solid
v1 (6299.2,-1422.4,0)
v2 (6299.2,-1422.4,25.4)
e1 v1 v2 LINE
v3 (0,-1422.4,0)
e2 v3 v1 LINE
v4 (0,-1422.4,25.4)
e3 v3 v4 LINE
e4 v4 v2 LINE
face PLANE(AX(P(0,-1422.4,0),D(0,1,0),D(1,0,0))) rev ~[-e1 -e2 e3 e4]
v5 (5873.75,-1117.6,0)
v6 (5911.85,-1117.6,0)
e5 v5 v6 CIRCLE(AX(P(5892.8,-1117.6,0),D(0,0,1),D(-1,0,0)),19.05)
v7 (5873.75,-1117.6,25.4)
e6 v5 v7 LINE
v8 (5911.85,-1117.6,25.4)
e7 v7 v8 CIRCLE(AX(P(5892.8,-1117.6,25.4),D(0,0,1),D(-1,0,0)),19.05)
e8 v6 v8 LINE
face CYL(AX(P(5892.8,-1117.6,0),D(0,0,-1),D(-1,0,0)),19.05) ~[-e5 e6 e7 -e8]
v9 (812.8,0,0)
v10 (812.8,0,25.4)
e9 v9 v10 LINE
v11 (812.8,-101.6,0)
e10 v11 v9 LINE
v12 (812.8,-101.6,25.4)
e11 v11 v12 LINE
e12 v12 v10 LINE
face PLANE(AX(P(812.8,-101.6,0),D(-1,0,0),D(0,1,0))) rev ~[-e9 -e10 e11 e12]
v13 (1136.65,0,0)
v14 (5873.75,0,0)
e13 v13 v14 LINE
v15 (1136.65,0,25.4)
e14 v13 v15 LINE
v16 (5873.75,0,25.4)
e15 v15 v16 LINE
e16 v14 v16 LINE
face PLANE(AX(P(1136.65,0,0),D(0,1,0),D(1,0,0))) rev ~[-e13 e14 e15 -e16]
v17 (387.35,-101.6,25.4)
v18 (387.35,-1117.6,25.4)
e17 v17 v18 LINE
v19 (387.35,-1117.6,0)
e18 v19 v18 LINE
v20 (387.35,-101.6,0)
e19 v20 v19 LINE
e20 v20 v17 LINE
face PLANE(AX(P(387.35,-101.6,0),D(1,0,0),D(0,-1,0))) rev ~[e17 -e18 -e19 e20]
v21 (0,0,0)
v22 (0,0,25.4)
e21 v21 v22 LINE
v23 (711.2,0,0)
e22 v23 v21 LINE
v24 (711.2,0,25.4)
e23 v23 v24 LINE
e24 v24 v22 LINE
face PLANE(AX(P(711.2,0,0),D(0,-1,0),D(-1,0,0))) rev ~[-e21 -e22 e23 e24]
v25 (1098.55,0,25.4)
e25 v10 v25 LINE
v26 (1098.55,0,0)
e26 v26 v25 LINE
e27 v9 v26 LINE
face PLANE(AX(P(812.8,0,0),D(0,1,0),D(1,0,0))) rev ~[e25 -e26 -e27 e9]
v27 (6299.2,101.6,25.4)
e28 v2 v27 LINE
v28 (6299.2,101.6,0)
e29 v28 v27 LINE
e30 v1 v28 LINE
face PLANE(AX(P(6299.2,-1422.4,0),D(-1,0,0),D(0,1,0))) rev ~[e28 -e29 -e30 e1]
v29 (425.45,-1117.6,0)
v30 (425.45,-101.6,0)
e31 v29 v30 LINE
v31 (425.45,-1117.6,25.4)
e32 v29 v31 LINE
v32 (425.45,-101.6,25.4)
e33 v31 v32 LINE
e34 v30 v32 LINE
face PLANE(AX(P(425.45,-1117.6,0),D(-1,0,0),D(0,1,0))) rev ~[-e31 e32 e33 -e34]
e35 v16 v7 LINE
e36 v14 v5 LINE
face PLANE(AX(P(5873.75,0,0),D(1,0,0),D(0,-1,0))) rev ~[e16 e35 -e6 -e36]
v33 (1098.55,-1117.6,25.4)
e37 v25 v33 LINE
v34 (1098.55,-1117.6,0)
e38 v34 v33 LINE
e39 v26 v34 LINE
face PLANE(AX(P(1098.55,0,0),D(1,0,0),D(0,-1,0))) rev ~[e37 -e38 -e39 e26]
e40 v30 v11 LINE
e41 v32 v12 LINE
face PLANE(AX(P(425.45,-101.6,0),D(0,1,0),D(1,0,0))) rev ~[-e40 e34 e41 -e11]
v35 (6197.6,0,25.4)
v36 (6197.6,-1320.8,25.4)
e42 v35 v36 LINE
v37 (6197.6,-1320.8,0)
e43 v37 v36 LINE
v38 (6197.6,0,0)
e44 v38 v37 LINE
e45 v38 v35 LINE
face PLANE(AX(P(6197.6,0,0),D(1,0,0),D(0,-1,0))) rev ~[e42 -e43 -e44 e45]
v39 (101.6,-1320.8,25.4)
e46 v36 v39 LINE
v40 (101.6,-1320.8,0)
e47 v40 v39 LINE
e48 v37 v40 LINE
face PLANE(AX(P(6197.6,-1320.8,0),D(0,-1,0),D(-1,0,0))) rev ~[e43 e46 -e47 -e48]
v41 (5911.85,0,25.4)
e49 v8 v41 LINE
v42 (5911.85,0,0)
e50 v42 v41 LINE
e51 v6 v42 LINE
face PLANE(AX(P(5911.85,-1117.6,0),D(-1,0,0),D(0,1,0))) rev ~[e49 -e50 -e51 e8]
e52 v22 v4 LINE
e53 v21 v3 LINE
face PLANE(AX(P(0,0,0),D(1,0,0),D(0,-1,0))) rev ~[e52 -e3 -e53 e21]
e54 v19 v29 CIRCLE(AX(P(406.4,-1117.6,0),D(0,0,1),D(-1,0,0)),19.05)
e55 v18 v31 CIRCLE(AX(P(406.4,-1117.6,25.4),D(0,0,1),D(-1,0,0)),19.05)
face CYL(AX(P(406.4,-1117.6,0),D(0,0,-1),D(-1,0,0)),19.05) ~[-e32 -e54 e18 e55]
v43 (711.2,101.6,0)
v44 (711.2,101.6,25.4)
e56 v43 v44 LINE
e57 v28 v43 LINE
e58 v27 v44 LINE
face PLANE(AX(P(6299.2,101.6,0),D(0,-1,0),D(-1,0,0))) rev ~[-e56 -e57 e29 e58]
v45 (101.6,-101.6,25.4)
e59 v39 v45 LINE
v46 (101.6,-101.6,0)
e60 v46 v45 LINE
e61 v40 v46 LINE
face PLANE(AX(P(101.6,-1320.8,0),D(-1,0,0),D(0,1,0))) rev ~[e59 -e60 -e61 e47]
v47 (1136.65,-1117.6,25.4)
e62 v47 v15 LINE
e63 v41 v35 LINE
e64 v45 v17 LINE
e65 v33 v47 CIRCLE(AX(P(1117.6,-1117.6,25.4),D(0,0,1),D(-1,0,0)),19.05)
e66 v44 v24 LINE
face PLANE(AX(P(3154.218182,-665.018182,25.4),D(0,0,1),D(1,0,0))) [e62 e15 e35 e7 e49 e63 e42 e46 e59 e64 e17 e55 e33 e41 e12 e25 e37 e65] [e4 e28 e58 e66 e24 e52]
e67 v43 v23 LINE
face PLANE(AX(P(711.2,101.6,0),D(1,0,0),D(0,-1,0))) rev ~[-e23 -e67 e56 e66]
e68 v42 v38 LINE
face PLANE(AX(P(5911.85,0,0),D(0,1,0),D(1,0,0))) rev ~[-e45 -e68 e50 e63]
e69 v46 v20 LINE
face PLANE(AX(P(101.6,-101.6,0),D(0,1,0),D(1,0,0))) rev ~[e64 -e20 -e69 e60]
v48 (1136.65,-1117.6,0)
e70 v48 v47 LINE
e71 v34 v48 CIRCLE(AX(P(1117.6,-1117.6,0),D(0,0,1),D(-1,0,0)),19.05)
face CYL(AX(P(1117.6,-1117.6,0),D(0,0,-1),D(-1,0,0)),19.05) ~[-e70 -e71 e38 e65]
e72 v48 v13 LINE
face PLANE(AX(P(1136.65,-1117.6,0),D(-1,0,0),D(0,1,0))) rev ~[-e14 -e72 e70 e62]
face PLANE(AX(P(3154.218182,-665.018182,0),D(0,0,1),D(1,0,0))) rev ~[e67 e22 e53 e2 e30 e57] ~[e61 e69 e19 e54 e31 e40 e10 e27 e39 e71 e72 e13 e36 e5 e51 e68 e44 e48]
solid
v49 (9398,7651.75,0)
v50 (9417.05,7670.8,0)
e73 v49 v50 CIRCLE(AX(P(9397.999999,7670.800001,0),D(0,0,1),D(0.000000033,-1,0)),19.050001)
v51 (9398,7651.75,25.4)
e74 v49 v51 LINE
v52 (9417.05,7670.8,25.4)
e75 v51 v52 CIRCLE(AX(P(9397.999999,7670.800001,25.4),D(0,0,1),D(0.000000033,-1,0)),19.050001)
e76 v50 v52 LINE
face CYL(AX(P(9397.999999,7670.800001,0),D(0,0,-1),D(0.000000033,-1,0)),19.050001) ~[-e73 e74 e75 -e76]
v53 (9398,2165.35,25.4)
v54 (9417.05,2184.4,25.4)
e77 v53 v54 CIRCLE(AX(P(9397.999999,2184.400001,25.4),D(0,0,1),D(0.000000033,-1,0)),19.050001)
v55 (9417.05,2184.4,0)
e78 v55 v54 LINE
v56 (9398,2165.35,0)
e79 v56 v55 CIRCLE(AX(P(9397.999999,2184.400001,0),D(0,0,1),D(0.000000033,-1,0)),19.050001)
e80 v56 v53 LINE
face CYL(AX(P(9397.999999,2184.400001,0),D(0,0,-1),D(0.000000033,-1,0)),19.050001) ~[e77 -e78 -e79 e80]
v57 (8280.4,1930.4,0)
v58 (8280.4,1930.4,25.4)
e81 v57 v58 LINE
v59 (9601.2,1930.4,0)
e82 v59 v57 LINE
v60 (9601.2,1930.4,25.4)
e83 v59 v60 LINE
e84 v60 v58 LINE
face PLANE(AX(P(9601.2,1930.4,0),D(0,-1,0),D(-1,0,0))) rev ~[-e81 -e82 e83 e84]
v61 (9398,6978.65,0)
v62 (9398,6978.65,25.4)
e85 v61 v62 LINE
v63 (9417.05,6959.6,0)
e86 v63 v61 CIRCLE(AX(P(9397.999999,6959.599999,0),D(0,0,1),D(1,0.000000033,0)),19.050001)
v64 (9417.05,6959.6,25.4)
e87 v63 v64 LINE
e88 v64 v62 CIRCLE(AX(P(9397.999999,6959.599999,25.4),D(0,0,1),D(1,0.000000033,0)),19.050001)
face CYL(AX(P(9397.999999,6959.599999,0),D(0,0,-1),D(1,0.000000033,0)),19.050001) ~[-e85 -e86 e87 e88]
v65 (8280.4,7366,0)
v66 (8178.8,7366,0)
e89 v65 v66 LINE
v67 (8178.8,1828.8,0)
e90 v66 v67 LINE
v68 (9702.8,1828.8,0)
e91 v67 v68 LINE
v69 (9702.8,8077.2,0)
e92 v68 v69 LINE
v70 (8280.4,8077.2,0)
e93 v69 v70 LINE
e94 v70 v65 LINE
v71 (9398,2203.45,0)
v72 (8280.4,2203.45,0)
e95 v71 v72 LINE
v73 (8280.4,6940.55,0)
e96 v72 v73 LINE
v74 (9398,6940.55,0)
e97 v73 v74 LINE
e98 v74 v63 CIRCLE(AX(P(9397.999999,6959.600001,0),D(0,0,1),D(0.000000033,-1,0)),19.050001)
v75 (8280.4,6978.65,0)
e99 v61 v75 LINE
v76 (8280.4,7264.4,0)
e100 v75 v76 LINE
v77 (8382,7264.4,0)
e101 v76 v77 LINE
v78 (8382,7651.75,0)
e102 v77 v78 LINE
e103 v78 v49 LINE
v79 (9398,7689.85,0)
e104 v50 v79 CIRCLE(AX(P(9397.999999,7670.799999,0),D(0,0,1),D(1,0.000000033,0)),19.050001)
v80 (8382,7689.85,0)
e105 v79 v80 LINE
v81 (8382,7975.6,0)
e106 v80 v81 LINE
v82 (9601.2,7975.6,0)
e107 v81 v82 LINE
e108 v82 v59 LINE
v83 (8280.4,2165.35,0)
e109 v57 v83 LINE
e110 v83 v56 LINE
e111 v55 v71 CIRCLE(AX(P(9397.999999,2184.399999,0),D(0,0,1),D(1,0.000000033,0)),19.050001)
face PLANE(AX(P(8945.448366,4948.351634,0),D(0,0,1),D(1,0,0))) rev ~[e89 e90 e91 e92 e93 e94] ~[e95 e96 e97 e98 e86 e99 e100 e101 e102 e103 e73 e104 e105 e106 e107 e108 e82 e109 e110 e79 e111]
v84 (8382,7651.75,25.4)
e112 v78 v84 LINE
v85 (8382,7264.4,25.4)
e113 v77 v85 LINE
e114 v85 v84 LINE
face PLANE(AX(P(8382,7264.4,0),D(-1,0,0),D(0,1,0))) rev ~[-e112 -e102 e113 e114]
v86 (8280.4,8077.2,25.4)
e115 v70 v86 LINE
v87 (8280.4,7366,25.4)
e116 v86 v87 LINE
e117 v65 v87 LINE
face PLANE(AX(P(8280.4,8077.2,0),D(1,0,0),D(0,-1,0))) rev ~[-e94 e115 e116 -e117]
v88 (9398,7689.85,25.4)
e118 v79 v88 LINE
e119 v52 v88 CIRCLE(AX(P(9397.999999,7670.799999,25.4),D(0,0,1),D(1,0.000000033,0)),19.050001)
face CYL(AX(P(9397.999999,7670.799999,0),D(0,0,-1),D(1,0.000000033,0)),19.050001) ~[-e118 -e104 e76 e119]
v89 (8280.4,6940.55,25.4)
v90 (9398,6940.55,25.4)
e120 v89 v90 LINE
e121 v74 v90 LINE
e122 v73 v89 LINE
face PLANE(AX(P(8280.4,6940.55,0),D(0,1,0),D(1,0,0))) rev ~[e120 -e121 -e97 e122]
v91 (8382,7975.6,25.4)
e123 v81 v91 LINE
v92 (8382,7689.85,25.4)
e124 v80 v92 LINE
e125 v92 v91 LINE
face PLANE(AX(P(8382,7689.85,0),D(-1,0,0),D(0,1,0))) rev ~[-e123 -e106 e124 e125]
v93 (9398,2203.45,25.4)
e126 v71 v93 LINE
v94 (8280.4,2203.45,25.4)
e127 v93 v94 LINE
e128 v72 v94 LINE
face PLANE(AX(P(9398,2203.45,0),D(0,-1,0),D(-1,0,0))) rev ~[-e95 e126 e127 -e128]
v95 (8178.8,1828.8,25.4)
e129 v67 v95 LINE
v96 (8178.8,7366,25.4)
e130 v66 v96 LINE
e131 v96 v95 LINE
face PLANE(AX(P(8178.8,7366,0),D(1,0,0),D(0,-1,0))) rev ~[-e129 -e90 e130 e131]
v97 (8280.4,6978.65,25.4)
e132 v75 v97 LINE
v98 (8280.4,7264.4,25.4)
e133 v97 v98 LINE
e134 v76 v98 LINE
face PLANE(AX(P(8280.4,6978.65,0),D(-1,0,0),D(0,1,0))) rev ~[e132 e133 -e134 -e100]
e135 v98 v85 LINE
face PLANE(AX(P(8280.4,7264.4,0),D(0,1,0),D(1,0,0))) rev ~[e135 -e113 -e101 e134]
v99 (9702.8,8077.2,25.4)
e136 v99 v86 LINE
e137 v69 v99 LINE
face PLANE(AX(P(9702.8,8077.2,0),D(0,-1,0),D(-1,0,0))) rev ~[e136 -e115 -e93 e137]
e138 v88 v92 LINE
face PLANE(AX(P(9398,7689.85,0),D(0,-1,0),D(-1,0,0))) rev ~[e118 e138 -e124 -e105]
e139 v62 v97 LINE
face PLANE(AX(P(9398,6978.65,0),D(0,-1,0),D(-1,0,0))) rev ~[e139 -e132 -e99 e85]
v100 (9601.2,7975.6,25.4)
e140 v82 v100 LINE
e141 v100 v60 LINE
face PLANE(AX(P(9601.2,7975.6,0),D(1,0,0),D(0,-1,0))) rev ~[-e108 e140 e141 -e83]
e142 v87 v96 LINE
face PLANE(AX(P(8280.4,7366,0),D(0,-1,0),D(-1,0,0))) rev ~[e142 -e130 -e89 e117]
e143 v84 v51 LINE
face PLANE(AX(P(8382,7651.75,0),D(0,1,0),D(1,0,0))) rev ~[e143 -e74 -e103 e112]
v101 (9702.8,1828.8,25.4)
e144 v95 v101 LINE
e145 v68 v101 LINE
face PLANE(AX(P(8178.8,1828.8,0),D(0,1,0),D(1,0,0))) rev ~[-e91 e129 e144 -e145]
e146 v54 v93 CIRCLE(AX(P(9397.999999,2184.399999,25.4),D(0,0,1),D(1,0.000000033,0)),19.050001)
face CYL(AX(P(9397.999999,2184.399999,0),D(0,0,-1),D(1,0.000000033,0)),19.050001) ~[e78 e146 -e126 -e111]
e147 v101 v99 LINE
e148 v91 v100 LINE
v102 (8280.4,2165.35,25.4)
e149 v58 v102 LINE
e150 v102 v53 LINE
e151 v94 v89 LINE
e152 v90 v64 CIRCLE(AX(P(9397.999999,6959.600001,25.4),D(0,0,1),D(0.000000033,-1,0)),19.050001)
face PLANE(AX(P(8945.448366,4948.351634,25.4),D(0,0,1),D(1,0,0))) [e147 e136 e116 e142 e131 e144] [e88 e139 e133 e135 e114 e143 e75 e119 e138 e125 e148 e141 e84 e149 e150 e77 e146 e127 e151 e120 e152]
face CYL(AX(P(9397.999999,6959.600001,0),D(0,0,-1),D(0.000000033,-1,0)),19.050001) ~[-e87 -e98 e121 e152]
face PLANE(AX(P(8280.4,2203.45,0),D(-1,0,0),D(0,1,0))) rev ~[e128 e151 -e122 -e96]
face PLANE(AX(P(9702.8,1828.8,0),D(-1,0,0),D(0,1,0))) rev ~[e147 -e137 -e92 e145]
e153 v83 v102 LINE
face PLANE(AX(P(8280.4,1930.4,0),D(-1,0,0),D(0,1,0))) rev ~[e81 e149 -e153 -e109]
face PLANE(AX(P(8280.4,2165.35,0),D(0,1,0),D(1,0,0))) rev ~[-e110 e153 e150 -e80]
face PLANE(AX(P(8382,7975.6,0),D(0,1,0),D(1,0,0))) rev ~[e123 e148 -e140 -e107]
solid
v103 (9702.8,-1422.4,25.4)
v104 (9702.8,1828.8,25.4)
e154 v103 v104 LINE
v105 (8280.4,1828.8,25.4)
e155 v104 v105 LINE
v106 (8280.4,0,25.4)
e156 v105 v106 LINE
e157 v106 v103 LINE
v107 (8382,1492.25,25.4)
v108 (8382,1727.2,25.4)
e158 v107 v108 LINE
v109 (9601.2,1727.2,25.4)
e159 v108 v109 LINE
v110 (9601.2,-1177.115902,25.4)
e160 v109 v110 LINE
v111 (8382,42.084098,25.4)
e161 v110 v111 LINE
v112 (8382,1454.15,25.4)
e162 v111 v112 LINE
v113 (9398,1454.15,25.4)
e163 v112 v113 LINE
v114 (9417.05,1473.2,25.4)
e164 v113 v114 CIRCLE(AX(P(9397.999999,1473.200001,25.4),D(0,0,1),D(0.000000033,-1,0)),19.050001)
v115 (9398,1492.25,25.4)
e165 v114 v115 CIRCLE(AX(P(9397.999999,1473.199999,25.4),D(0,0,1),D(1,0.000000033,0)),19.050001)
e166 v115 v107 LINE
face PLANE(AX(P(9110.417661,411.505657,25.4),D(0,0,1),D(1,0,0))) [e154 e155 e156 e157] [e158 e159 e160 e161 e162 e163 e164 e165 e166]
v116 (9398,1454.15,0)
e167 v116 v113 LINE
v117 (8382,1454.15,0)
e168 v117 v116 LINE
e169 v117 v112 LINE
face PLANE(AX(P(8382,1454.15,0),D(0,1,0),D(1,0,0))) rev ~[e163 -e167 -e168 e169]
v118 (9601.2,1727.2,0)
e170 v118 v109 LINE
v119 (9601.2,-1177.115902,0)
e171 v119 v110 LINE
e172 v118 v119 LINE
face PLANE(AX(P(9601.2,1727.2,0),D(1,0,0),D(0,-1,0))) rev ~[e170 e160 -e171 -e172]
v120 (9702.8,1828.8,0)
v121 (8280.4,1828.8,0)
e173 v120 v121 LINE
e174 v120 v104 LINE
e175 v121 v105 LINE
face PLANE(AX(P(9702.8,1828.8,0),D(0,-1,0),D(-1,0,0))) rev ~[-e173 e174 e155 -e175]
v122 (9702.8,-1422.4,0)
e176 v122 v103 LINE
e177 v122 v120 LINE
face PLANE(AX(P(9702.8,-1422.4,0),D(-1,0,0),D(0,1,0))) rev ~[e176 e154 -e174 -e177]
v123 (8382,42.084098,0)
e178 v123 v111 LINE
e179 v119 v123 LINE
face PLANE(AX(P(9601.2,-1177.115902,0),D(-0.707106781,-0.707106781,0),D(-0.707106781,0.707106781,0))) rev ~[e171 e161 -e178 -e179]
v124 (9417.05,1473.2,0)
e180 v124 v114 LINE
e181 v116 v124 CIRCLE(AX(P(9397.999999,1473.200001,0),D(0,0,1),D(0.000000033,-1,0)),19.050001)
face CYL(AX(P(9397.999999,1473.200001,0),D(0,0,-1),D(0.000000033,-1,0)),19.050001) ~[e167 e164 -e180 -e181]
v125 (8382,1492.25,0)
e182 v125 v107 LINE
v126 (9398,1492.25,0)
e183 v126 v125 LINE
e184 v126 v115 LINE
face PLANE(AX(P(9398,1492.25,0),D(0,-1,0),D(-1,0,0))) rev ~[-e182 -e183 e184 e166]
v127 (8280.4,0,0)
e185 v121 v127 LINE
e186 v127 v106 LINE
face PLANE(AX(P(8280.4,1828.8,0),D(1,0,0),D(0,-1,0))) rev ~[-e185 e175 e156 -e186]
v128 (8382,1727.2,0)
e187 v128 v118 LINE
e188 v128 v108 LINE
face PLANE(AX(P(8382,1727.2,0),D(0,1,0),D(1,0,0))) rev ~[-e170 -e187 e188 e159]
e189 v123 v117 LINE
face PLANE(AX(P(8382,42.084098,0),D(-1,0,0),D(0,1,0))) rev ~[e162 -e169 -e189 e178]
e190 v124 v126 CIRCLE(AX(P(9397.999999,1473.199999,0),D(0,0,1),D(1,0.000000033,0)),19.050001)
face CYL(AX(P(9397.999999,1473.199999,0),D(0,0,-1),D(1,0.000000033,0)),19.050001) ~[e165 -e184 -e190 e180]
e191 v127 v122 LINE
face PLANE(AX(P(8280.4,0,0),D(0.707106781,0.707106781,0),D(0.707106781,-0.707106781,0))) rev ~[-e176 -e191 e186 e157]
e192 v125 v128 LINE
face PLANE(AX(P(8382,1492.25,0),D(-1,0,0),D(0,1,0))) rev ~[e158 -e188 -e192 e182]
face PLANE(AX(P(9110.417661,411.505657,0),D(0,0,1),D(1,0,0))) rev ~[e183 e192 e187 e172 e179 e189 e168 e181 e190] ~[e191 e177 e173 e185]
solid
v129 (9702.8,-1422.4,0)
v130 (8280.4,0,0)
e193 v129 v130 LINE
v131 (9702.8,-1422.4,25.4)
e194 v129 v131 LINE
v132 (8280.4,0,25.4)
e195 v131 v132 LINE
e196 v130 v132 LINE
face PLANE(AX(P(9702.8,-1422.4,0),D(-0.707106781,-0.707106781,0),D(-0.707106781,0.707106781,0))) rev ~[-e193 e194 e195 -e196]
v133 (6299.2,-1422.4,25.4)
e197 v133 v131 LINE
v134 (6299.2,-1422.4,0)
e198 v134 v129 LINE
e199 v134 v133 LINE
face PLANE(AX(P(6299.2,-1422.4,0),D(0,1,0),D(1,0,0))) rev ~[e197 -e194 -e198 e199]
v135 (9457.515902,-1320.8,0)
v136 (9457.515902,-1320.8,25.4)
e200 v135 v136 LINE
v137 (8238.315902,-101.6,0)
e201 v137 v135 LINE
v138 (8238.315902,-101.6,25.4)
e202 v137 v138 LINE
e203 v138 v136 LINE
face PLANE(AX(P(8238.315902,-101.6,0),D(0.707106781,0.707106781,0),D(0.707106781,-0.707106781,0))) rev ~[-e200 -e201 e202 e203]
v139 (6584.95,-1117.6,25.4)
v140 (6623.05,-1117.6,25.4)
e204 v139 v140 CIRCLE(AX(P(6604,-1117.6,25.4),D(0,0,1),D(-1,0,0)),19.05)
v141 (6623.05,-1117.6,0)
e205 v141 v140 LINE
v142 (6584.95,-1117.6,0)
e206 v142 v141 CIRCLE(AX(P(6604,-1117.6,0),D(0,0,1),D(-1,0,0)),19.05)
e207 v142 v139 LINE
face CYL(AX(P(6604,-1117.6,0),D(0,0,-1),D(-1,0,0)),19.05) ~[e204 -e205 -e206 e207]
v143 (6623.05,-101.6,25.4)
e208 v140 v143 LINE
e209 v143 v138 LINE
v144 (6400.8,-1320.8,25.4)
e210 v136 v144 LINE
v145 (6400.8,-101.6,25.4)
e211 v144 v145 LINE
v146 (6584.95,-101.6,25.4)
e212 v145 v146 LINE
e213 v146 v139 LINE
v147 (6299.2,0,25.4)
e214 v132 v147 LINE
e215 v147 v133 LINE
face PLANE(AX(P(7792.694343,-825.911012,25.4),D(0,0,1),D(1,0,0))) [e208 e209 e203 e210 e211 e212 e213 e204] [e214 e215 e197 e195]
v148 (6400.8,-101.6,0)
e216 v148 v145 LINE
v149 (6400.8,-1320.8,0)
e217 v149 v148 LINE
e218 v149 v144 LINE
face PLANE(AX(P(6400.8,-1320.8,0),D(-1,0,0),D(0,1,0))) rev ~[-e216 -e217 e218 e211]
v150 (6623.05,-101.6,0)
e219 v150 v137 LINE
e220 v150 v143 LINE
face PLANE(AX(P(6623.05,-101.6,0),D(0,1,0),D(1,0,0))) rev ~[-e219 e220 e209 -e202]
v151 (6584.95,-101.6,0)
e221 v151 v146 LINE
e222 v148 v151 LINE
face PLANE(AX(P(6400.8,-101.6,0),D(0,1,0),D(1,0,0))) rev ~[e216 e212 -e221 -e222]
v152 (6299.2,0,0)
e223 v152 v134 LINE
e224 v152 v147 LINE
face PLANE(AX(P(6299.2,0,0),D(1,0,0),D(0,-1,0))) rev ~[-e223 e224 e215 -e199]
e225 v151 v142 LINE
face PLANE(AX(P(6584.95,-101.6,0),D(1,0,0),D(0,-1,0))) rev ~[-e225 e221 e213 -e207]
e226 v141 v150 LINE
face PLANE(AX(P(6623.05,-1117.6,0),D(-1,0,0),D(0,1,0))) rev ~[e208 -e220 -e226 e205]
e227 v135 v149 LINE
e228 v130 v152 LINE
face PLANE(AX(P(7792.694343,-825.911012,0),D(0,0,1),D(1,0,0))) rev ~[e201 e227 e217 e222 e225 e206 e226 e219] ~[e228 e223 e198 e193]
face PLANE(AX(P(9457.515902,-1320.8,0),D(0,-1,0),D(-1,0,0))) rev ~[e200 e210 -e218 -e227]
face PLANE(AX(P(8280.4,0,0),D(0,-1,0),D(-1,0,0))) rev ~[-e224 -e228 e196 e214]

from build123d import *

# Parameters (mm, degrees)
F1_DEPTH = 25.4
F2_DEPTH = 25.4
F3_DEPTH = 25.4
F4_DEPTH = 25.4


with BuildPart() as f1:
    # F0 (on Top) → F1 (new body)
    with BuildSketch(Plane.XY):
        Polygon((0, 0), (0, -1422.4), (6299.2, -1422.4), (6299.2, -1320.8), (6299.2, -101.6), (6299.2, 0), (6299.2, 101.6), (711.2, 101.6), (711.2, 0), align=None)
        Polygon((6197.6, -1320.8), (101.6, -1320.8), (101.6, -101.6), (387.35, -101.6), (425.45, -101.6), (812.8, -101.6), (812.8, 0), (1098.55, 0), (1136.65, 0), (5873.75, 0), (5911.85, 0), (6197.6, 0), (6197.6, -101.6), align=None, mode=Mode.SUBTRACT)
        with BuildLine():
            Line((425.45, -101.6), (387.35, -101.6))
            Line((387.35, -101.6), (387.35, -1117.6))
            ThreePointArc((387.35, -1117.6), (406.4, -1098.55), (425.45, -1117.6))
            Line((425.45, -1117.6), (425.45, -101.6))
        make_face()
        with BuildLine():
            ThreePointArc((425.45, -1117.6), (406.4, -1098.55), (387.35, -1117.6))
            Line((387.35, -1117.6), (425.45, -1117.6))
        make_face()
        with BuildLine():
            Line((425.45, -1117.6), (387.35, -1117.6))
            ThreePointArc((387.35, -1117.6), (406.4, -1136.65), (425.45, -1117.6))
        make_face()
        with BuildLine():
            Line((1136.65, -1117.6), (1136.65, 0))
            Line((1136.65, 0), (1098.55, 0))
            Line((1098.55, 0), (1098.55, -1117.6))
            ThreePointArc((1098.55, -1117.6), (1117.6, -1098.55), (1136.65, -1117.6))
        make_face()
        with BuildLine():
            Line((1098.55, -1117.6), (1136.65, -1117.6))
            ThreePointArc((1136.65, -1117.6), (1117.6, -1098.55), (1098.55, -1117.6))
        make_face()
        with BuildLine():
            ThreePointArc((1098.55, -1117.6), (1117.6, -1136.65), (1136.65, -1117.6))
            Line((1136.65, -1117.6), (1098.55, -1117.6))
        make_face()
        with BuildLine():
            Line((5911.85, -1117.6), (5911.85, 0))
            Line((5911.85, 0), (5873.75, 0))
            Line((5873.75, 0), (5873.75, -1117.6))
            ThreePointArc((5873.75, -1117.6), (5892.8, -1098.55), (5911.85, -1117.6))
        make_face()
        with BuildLine():
            Line((5873.75, -1117.6), (5911.85, -1117.6))
            ThreePointArc((5911.85, -1117.6), (5892.8, -1098.55), (5873.75, -1117.6))
        make_face()
        with BuildLine():
            ThreePointArc((5873.75, -1117.6), (5892.8, -1136.65), (5911.85, -1117.6))
            Line((5911.85, -1117.6), (5873.75, -1117.6))
        make_face()
    extrude(amount=F1_DEPTH)


with BuildPart() as f2:
    # F0 (on Top) → F2 (new body)
    with BuildSketch(Plane.XY):
        Polygon((6299.2, -1320.8), (6299.2, -1422.4), (9702.8, -1422.4), (8280.4, 0), (6400.8, 0), (6299.2, 0), (6299.2, -101.6), align=None)
        Polygon((6400.8, -101.6), (6584.95, -101.6), (6623.05, -101.6), (8238.315902, -101.6), (9457.515902, -1320.8), (6400.8, -1320.8), align=None, mode=Mode.SUBTRACT)
        with BuildLine():
            Line((6623.05, -101.6), (6584.95, -101.6))
            Line((6584.95, -101.6), (6584.95, -1117.6))
            ThreePointArc((6584.95, -1117.6), (6604, -1098.55), (6623.05, -1117.6))
            Line((6623.05, -1117.6), (6623.05, -101.6))
        make_face()
        with BuildLine():
            ThreePointArc((6623.05, -1117.6), (6604, -1098.55), (6584.95, -1117.6))
            Line((6584.95, -1117.6), (6623.05, -1117.6))
        make_face()
        with BuildLine():
            Line((6623.05, -1117.6), (6584.95, -1117.6))
            ThreePointArc((6584.95, -1117.6), (6604, -1136.65), (6623.05, -1117.6))
        make_face()
    extrude(amount=F2_DEPTH)


with BuildPart() as f3:
    # F0 (on Top) → F3 (new body)
    with BuildSketch(Plane.XY):
        Polygon((8280.4, 0), (9702.8, -1422.4), (9702.8, 1828.8), (8382, 1828.8), (8280.4, 1828.8), align=None)
        Polygon((9601.2, -1177.115902), (8382, 42.084098), (8382, 1454.15), (8382, 1492.25), (8382, 1727.2), (9601.2, 1727.2), align=None, mode=Mode.SUBTRACT)
        with BuildLine():
            Line((8382, 1492.25), (8382, 1454.15))
            Line((8382, 1454.15), (9398, 1454.15))
            ThreePointArc((9398, 1454.15), (9378.95, 1473.2), (9398, 1492.25))
            Line((9398, 1492.25), (8382, 1492.25))
        make_face()
        with BuildLine():
            ThreePointArc((9398, 1492.25), (9378.95, 1473.2), (9398, 1454.15))
            Line((9398, 1454.15), (9398, 1492.25))
        make_face()
        with BuildLine():
            Line((9398, 1492.25), (9398, 1454.15))
            ThreePointArc((9398, 1454.15), (9411.470384, 1459.729616), (9417.05, 1473.2))
            ThreePointArc((9417.05, 1473.2), (9411.470384, 1486.670384), (9398, 1492.25))
        make_face()
    extrude(amount=F3_DEPTH)


with BuildPart() as f4:
    # F0 (on Top) → F4 (new body)
    with BuildSketch(Plane.XY):
        Polygon((8382, 1828.8), (9702.8, 1828.8), (9702.8, 8077.2), (8280.4, 8077.2), (8280.4, 7366), (8178.8, 7366), (8178.8, 1828.8), (8280.4, 1828.8), align=None)
        Polygon((9601.2, 1930.4), (8382, 1930.4), (8280.4, 1930.4), (8280.4, 2165.35), (8280.4, 2203.45), (8280.4, 6940.55), (8280.4, 6978.65), (8280.4, 7264.4), (8382, 7264.4), (8382, 7651.75), (8382, 7689.85), (8382, 7975.6), (9601.2, 7975.6), align=None, mode=Mode.SUBTRACT)
        with BuildLine():
            Line((8280.4, 2203.45), (8280.4, 2165.35))
            Line((8280.4, 2165.35), (9398, 2165.35))
            ThreePointArc((9398, 2165.35), (9378.95, 2184.4), (9398, 2203.45))
            Line((9398, 2203.45), (8280.4, 2203.45))
        make_face()
        with BuildLine():
            ThreePointArc((9398, 2203.45), (9378.95, 2184.4), (9398, 2165.35))
            Line((9398, 2165.35), (9398, 2203.45))
        make_face()
        with BuildLine():
            Line((9398, 2203.45), (9398, 2165.35))
            ThreePointArc((9398, 2165.35), (9411.470384, 2170.929616), (9417.05, 2184.4))
            ThreePointArc((9417.05, 2184.4), (9411.470384, 2197.870384), (9398, 2203.45))
        make_face()
        with BuildLine():
            Line((8280.4, 6978.65), (8280.4, 6940.55))
            Line((8280.4, 6940.55), (9398, 6940.55))
            ThreePointArc((9398, 6940.55), (9378.95, 6959.6), (9398, 6978.65))
            Line((9398, 6978.65), (8280.4, 6978.65))
        make_face()
        with BuildLine():
            ThreePointArc((9398, 6978.65), (9378.95, 6959.6), (9398, 6940.55))
            Line((9398, 6940.55), (9398, 6978.65))
        make_face()
        with BuildLine():
            Line((9398, 6978.65), (9398, 6940.55))
            ThreePointArc((9398, 6940.55), (9411.470384, 6946.129616), (9417.05, 6959.6))
            ThreePointArc((9417.05, 6959.6), (9411.470384, 6973.070384), (9398, 6978.65))
        make_face()
        with BuildLine():
            Line((9398, 7689.85), (8382, 7689.85))
            Line((8382, 7689.85), (8382, 7651.75))
            Line((8382, 7651.75), (9398, 7651.75))
            ThreePointArc((9398, 7651.75), (9378.95, 7670.8), (9398, 7689.85))
        make_face()
        with BuildLine():
            Line((9398, 7651.75), (9398, 7689.85))
            ThreePointArc((9398, 7689.85), (9378.95, 7670.8), (9398, 7651.75))
        make_face()
        with BuildLine():
            ThreePointArc((9417.05, 7670.8), (9411.470384, 7684.270384), (9398, 7689.85))
            Line((9398, 7689.85), (9398, 7651.75))
            ThreePointArc((9398, 7651.75), (9411.470384, 7657.329616), (9417.05, 7670.8))
        make_face()
    extrude(amount=F4_DEPTH)


solid = Compound([f1.part, f2.part, f3.part, f4.part])
